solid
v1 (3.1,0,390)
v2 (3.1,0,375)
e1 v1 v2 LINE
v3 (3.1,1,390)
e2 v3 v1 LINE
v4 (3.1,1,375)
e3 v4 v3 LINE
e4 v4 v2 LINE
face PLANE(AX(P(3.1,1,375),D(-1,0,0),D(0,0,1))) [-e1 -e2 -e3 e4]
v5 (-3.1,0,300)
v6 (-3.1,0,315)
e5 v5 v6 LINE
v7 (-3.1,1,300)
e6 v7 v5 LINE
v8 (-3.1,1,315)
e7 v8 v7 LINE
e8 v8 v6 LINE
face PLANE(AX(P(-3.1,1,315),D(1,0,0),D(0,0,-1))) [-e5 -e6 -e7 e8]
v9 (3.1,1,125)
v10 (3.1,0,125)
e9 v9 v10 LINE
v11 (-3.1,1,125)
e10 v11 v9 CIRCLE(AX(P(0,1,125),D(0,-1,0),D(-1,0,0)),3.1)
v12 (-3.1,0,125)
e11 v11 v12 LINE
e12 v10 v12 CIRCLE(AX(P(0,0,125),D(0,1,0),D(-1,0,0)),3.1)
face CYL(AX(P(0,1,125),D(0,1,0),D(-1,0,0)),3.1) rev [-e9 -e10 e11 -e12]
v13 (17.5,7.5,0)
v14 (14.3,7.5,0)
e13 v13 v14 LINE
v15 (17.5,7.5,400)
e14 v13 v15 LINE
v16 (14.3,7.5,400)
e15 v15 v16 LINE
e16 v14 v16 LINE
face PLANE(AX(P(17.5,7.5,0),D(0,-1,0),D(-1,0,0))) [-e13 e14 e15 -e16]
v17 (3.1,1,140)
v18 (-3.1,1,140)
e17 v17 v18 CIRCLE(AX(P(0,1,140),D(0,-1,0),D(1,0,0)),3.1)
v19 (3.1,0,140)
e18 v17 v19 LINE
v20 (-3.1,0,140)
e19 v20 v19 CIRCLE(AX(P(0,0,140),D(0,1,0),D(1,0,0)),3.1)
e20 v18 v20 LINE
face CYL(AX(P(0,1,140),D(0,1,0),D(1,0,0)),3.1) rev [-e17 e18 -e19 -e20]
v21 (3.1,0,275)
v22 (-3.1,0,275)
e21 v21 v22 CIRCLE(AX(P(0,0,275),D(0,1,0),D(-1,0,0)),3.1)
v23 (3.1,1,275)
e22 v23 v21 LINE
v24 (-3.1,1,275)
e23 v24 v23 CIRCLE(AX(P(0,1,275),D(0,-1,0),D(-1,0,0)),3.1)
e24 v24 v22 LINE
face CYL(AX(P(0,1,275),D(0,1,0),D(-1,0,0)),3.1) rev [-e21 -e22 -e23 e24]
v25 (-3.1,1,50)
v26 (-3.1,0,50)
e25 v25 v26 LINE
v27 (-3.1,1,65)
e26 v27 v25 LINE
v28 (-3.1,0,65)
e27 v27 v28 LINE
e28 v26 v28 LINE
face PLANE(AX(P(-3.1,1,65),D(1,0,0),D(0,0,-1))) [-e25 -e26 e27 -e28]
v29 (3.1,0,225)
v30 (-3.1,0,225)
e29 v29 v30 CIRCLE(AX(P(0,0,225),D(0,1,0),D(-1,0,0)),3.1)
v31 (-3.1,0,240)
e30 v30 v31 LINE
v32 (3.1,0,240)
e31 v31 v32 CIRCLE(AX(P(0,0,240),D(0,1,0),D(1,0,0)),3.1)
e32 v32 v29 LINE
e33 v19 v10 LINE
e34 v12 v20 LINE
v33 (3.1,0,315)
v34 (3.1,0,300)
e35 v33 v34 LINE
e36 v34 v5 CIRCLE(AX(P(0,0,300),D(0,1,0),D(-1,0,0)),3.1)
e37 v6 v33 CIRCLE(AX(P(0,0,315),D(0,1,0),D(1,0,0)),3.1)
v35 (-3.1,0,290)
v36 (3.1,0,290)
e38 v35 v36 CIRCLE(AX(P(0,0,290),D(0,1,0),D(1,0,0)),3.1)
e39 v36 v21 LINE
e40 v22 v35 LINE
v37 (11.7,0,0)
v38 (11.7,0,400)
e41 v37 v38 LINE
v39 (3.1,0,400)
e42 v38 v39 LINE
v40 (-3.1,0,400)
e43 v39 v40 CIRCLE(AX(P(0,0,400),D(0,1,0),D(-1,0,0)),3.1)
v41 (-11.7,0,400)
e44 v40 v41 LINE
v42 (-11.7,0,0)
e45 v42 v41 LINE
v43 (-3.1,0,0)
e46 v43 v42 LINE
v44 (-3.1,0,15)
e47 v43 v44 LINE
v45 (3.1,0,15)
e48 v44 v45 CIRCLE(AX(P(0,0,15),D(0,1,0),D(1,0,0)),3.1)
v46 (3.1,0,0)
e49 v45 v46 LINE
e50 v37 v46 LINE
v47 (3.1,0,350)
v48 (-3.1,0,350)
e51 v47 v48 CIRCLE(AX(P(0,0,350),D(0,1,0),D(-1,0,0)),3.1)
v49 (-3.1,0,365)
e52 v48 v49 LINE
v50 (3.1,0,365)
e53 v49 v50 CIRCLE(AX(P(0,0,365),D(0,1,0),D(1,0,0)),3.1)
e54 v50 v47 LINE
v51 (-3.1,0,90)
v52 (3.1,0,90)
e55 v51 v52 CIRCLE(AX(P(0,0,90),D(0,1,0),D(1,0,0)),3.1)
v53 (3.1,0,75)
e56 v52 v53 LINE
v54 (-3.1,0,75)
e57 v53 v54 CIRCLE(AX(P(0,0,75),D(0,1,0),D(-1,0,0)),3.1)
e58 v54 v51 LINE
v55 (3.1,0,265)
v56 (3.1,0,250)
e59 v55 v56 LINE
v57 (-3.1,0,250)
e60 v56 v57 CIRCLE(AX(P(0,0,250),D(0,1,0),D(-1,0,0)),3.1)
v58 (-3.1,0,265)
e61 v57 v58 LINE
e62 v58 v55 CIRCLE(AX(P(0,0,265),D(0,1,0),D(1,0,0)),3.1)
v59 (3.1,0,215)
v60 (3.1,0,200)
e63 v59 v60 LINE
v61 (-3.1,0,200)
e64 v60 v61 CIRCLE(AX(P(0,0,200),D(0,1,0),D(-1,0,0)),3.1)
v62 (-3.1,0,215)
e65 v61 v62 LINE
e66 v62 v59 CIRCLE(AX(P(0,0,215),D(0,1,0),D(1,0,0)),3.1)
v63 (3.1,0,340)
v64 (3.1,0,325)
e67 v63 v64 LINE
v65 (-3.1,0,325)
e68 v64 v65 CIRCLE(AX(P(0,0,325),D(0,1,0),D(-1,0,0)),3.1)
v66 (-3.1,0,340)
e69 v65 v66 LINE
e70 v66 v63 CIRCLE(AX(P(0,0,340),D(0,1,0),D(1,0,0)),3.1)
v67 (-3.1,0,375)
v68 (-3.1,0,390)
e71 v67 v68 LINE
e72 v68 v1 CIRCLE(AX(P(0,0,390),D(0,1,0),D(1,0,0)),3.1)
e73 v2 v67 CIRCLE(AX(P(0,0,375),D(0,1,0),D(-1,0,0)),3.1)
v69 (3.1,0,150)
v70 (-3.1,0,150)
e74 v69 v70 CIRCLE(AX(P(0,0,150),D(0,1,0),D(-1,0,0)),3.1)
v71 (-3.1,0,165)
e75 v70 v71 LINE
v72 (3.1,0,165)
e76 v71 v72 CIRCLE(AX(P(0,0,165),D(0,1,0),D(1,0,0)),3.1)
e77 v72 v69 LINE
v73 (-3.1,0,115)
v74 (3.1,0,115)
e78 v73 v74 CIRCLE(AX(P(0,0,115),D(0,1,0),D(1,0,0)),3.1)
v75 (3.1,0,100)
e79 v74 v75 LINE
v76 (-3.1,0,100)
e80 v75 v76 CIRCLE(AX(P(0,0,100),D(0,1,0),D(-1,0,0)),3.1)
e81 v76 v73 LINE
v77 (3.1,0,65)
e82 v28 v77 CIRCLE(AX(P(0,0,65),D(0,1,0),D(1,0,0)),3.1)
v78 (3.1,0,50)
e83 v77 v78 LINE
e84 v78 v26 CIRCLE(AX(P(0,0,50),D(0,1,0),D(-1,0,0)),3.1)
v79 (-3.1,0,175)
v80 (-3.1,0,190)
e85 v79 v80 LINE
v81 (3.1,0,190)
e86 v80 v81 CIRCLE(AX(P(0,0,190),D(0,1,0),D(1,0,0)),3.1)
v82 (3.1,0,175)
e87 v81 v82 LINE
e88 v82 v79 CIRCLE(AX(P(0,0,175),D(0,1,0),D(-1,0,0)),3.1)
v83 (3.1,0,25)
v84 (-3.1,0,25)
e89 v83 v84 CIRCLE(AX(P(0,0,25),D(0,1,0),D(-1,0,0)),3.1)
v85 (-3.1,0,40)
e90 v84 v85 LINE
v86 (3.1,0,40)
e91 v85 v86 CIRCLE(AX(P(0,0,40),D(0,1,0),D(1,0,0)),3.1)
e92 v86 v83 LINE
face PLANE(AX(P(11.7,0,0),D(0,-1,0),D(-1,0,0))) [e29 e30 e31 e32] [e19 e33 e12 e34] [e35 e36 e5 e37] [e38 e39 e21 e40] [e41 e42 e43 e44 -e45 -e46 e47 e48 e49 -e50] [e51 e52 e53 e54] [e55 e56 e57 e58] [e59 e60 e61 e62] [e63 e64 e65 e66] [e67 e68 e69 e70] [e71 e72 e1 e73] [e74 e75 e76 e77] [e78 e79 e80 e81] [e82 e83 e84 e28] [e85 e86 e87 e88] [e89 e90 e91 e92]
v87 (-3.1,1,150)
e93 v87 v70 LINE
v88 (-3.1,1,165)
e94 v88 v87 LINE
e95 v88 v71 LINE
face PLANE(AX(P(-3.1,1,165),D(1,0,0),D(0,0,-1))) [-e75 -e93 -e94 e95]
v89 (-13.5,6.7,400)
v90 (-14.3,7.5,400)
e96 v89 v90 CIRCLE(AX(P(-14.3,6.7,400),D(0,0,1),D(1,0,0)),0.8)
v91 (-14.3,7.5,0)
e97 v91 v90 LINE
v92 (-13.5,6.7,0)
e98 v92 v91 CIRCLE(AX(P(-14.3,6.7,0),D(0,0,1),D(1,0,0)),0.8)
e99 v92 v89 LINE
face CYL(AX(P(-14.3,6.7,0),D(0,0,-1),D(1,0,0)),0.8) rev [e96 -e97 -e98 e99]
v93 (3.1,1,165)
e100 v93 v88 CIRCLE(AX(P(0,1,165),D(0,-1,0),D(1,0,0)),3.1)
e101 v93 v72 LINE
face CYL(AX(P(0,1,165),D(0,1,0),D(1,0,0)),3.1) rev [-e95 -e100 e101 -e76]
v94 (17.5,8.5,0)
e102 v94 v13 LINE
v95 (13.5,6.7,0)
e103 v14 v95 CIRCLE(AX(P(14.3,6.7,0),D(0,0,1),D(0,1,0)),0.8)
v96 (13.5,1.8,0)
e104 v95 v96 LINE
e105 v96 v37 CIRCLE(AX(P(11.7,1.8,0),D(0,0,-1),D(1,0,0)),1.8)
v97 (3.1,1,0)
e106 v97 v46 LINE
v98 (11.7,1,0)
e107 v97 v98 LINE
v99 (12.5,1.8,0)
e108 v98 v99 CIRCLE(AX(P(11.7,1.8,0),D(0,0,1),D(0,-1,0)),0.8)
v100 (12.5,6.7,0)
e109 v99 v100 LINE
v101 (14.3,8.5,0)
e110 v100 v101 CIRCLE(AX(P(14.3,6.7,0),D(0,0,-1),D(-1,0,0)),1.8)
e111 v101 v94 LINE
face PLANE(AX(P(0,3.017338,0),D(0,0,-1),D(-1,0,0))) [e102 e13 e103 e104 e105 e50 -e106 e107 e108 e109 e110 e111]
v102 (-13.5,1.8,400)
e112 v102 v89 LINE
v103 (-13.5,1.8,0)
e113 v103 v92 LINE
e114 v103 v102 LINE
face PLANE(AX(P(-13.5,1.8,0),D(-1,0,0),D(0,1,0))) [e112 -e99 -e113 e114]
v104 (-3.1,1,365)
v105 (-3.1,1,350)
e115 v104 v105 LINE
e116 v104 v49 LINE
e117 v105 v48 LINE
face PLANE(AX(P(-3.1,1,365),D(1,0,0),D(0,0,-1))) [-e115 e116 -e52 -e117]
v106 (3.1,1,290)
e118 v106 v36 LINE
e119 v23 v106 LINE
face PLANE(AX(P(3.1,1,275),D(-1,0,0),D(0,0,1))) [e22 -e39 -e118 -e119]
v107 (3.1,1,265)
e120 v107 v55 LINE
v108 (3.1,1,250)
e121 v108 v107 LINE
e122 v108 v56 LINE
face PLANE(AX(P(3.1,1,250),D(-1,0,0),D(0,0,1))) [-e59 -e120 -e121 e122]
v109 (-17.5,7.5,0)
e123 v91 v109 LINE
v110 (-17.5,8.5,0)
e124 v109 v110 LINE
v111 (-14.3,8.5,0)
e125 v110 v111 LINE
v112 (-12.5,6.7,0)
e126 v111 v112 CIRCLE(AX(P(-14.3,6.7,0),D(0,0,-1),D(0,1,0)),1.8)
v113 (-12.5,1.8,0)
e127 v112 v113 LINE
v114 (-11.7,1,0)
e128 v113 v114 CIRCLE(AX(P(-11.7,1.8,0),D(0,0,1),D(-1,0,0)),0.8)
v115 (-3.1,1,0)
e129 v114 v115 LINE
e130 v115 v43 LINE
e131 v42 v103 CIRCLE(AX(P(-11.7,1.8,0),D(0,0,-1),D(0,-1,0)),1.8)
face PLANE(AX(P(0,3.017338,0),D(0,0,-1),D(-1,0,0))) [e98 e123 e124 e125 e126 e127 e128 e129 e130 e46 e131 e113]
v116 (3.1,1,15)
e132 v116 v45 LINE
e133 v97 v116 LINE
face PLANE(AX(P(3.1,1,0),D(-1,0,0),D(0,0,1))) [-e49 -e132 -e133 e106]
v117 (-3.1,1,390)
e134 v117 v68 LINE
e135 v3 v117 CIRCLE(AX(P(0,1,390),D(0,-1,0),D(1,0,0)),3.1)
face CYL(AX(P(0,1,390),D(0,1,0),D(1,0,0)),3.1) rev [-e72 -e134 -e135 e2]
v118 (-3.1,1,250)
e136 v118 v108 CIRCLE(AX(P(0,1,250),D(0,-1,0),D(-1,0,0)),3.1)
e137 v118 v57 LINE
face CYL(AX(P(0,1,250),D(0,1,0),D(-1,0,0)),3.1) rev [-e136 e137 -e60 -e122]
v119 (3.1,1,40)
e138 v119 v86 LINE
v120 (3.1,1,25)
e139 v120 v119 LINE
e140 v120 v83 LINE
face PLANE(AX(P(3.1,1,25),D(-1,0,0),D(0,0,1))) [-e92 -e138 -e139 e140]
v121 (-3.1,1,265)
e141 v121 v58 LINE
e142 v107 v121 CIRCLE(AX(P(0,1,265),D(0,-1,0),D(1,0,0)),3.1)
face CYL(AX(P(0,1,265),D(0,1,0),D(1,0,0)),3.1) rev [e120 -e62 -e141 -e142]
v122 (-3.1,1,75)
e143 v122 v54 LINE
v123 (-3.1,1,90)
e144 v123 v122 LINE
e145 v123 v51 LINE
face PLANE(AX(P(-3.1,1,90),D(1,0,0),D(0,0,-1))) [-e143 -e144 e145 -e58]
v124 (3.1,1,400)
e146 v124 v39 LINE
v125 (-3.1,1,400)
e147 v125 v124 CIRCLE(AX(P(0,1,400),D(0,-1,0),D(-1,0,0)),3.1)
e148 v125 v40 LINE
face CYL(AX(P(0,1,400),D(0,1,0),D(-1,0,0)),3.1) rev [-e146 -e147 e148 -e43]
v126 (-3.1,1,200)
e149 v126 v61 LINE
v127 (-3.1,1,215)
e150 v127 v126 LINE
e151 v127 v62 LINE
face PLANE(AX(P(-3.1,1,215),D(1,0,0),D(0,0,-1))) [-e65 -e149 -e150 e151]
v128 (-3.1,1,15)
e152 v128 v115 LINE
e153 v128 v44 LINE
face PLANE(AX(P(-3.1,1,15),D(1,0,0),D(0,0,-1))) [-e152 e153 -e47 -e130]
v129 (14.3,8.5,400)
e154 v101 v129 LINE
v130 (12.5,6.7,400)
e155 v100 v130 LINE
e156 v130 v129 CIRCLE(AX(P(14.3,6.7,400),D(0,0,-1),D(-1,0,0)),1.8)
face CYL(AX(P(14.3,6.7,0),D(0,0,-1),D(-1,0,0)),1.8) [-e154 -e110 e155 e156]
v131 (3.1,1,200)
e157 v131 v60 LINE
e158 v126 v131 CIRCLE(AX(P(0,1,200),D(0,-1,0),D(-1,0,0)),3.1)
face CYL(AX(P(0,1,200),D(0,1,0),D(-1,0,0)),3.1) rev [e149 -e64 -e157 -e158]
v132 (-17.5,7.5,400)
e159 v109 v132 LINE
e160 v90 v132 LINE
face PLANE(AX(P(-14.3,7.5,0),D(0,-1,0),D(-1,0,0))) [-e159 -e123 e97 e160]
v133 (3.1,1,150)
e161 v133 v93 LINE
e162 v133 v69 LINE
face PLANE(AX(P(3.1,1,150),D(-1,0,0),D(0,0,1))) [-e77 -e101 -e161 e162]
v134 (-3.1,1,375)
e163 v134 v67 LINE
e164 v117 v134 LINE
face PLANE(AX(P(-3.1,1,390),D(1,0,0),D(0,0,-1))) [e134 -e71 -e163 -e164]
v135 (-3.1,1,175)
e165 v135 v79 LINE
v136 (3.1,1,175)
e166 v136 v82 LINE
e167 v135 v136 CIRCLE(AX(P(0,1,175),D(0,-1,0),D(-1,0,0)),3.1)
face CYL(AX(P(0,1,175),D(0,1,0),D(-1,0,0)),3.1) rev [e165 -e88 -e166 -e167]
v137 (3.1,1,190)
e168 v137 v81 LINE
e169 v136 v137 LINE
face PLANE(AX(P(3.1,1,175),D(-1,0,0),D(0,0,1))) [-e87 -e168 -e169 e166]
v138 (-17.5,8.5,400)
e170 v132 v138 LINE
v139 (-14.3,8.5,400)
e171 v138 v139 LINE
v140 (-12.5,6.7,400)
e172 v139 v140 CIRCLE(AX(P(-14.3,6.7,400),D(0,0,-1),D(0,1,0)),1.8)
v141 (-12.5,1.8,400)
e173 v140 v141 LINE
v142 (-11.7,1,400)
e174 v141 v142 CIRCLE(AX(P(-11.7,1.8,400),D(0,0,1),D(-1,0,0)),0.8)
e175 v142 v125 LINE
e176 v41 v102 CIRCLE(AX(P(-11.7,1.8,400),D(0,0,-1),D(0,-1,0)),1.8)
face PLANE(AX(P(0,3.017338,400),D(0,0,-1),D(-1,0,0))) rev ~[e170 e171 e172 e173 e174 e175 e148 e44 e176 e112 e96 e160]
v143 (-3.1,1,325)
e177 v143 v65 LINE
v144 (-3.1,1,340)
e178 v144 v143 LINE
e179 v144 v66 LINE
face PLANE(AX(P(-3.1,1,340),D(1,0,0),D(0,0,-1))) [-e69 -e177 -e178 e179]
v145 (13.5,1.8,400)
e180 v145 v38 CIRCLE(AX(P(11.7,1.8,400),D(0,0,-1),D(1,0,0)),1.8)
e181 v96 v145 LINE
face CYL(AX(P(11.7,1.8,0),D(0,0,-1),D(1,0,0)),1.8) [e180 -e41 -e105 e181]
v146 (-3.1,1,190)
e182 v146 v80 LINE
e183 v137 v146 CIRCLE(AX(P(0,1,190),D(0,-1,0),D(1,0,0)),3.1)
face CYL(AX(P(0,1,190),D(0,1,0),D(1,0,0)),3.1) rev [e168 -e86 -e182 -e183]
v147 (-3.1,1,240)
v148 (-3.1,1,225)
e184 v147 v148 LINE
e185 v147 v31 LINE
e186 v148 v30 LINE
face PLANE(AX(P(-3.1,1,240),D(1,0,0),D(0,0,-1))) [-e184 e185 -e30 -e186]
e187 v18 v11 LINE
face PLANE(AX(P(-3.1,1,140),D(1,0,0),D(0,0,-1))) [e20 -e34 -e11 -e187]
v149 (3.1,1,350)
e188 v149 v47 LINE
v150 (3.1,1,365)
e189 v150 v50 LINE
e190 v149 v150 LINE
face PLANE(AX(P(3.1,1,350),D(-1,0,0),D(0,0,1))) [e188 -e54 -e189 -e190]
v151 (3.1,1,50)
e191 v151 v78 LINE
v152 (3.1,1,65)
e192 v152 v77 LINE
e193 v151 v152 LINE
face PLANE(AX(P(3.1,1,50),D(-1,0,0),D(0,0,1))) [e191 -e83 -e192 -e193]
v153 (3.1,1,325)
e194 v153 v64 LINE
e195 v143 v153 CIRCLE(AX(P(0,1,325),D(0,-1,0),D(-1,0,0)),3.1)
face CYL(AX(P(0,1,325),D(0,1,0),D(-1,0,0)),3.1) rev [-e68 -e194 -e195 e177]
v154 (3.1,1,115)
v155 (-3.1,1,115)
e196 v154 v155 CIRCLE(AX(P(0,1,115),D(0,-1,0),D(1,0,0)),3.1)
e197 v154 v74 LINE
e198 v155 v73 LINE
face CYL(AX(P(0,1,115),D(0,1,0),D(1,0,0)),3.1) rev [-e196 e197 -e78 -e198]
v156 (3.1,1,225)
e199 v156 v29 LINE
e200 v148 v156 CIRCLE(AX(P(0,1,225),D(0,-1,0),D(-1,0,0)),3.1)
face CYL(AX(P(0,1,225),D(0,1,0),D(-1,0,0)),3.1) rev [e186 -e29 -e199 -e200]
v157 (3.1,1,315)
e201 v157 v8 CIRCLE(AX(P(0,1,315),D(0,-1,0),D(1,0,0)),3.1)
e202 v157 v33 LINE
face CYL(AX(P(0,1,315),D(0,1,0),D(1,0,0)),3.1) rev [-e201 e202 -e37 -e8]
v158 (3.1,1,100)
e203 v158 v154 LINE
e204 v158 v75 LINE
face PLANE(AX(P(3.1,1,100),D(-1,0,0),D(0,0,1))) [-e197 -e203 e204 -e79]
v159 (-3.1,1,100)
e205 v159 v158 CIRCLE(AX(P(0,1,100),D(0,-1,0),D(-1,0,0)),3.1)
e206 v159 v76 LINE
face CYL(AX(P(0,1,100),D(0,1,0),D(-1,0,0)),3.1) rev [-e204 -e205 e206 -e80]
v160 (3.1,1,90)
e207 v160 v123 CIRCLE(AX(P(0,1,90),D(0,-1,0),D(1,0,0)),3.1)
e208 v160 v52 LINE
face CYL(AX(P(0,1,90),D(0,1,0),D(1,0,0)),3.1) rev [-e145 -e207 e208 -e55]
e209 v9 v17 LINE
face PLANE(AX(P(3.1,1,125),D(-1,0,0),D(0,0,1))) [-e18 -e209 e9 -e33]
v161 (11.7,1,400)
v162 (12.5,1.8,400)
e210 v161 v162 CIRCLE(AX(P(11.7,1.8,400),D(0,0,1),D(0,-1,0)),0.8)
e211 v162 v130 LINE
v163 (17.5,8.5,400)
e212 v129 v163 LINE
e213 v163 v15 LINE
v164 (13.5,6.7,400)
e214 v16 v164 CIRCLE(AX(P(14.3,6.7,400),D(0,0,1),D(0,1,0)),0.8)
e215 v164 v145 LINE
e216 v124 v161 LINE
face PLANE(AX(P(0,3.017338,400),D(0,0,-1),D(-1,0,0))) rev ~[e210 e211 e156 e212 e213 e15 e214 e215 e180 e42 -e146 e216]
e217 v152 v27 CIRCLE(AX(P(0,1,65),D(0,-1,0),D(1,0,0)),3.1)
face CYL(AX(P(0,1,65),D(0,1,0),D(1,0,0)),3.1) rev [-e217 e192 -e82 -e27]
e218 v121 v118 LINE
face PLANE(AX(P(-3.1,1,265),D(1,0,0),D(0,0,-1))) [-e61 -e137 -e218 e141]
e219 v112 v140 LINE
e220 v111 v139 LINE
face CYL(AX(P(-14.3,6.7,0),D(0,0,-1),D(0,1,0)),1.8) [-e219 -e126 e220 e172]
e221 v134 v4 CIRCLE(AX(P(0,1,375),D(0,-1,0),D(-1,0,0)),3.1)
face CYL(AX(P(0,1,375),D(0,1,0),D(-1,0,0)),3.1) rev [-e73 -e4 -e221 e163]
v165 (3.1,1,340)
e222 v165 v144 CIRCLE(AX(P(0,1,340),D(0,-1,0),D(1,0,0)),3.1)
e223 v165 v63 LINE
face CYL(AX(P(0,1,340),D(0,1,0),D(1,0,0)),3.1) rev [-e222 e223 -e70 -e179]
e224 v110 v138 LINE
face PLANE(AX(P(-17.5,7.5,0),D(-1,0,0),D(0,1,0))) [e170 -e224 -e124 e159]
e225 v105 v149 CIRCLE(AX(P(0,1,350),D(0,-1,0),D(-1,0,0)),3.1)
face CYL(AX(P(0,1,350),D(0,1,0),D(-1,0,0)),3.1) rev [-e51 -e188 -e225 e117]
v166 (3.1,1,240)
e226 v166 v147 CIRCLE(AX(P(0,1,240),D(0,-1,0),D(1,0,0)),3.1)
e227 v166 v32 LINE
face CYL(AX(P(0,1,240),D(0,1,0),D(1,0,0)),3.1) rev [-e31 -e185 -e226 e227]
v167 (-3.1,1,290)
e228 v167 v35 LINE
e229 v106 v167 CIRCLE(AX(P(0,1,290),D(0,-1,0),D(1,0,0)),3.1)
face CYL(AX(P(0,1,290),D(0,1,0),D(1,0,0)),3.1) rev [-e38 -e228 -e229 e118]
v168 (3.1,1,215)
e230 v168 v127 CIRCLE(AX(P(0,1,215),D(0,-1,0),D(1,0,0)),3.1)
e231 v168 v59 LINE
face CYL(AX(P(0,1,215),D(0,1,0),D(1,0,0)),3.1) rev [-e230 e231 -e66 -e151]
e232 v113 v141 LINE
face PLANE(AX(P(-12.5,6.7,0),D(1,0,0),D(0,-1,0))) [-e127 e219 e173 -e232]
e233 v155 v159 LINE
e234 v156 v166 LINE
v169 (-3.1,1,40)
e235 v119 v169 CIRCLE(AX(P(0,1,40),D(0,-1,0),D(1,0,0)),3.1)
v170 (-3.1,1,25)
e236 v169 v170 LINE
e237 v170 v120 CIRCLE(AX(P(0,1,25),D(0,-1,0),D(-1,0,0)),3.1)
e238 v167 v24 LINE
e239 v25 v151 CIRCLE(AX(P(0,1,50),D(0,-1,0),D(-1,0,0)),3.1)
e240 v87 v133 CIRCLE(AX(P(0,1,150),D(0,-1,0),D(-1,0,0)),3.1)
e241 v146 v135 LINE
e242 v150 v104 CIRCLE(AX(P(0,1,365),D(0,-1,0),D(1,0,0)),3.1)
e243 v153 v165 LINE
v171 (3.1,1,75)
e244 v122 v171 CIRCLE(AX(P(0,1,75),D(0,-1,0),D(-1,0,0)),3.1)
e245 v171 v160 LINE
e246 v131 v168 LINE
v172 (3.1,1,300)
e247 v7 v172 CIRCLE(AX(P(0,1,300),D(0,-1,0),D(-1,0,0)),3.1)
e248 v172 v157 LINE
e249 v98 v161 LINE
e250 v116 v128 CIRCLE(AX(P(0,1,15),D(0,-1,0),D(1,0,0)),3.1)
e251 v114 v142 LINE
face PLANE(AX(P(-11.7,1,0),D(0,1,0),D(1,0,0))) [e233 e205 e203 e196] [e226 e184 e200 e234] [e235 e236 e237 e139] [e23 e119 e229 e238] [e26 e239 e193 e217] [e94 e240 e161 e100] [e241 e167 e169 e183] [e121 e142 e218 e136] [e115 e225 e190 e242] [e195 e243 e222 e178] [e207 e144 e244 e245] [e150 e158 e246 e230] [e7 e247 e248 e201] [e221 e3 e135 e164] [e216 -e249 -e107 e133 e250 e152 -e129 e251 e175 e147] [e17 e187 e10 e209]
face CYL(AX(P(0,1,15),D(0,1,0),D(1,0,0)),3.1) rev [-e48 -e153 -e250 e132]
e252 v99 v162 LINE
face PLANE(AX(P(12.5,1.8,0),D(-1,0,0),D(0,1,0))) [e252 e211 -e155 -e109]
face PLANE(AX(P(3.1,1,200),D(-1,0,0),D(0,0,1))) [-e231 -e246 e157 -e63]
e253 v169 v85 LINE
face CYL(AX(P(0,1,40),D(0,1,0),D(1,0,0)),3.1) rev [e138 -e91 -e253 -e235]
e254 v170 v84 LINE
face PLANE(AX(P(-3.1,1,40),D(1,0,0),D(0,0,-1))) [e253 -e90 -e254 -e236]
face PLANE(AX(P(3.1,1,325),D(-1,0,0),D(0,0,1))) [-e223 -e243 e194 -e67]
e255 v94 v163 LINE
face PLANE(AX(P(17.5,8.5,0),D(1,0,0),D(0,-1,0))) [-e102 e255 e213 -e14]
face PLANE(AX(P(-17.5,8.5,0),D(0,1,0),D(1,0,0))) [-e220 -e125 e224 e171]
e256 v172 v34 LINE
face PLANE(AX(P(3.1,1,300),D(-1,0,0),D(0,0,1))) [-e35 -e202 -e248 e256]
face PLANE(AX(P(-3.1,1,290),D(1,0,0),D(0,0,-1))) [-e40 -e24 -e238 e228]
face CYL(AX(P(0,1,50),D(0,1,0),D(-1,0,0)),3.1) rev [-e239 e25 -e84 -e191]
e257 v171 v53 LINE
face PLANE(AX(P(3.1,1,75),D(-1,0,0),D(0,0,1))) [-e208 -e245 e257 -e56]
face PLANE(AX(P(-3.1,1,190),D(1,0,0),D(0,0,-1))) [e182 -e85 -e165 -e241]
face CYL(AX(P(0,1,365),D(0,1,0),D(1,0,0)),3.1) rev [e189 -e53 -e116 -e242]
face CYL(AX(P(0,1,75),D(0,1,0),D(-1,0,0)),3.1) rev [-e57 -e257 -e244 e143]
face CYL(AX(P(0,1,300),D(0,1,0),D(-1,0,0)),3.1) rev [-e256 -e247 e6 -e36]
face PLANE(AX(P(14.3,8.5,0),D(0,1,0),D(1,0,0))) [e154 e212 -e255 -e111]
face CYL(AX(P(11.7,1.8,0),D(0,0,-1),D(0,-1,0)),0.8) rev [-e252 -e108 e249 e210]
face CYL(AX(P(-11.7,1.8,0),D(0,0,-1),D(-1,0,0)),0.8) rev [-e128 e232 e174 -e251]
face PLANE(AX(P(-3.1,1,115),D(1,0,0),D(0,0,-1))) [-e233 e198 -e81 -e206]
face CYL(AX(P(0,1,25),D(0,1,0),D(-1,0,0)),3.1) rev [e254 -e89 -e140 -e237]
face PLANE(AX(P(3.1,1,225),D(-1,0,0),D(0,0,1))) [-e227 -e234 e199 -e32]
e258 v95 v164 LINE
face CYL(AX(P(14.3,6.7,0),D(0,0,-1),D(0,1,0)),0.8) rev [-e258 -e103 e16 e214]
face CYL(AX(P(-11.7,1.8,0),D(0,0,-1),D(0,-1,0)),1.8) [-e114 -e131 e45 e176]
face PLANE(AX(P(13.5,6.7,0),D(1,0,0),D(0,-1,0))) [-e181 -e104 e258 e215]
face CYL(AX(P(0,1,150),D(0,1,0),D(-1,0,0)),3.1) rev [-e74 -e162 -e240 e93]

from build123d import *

# Parameters (mm, degrees)
BOSS_EXTRUDE2_DEPTH = 400
CUT_EXTRUDE1_DEPTH  = 100


with BuildPart() as part:
    # Sketch1 → Boss-Extrude2 (new body)
    with BuildSketch(Plane.XY):
        with BuildLine():
            Line((0, 0), (-11.7, 0))
            ThreePointArc((-11.7, 0), (-12.972792206, 0.527207794), (-13.5, 1.8))
            Line((-13.5, 1.8), (-13.5, 6.7))
            ThreePointArc((-13.5, 6.7), (-13.734314575, 7.265685425), (-14.3, 7.5))
            Line((-14.3, 7.5), (-17.5, 7.5))
            Line((-17.5, 7.5), (-17.5, 8.5))
            Line((-17.5, 8.5), (-14.3, 8.5))
            ThreePointArc((-14.3, 8.5), (-13.027207794, 7.972792206), (-12.5, 6.7))
            Line((-12.5, 6.7), (-12.5, 1.8))
            ThreePointArc((-12.5, 1.8), (-12.265685425, 1.234314575), (-11.7, 1))
            Line((-11.7, 1), (0, 1))
            Line((0, 1), (11.7, 1))
            ThreePointArc((11.7, 1), (12.265685425, 1.234314575), (12.5, 1.8))
            Line((12.5, 1.8), (12.5, 6.7))
            ThreePointArc((12.5, 6.7), (13.027207794, 7.972792206), (14.3, 8.5))
            Line((14.3, 8.5), (17.5, 8.5))
            Line((17.5, 8.5), (17.5, 7.5))
            Line((17.5, 7.5), (14.3, 7.5))
            ThreePointArc((14.3, 7.5), (13.734314575, 7.265685425), (13.5, 6.7))
            Line((13.5, 6.7), (13.5, 1.8))
            ThreePointArc((13.5, 1.8), (12.972792206, 0.527207794), (11.7, 0))
            Line((11.7, 0), (0, 0))
        make_face()
    extrude(amount=BOSS_EXTRUDE2_DEPTH)

    # Sketch2 → Cut-Extrude1 (cut)
    with BuildSketch(Plane(origin=(0, 1, 0), x_dir=(1, 0, 0), z_dir=(0, 1, 0))):
        with BuildLine():
            Line((-3.1, -390), (-3.1, -375))
            ThreePointArc((-3.1, -375), (0, -371.9), (3.1, -375))
            Line((3.1, -375), (3.1, -390))
            ThreePointArc((3.1, -390), (0, -393.1), (-3.1, -390))
        make_face()
        with BuildLine():
            Line((-3.1, -365), (-3.1, -350))
            ThreePointArc((-3.1, -350), (0, -346.9), (3.1, -350))
            Line((3.1, -350), (3.1, -365))
            ThreePointArc((3.1, -365), (0, -368.1), (-3.1, -365))
        make_face()
        with BuildLine():
            Line((-3.1, -340), (-3.1, -325))
            ThreePointArc((-3.1, -325), (0, -321.9), (3.1, -325))
            Line((3.1, -325), (3.1, -340))
            ThreePointArc((3.1, -340), (0, -343.1), (-3.1, -340))
        make_face()
        with BuildLine():
            Line((-3.1, -315), (-3.1, -300))
            ThreePointArc((-3.1, -300), (0, -296.9), (3.1, -300))
            Line((3.1, -300), (3.1, -315))
            ThreePointArc((3.1, -315), (0, -318.1), (-3.1, -315))
        make_face()
        with BuildLine():
            Line((-3.1, -415), (-3.1, -400))
            ThreePointArc((-3.1, -400), (0, -396.9), (3.1, -400))
            Line((3.1, -400), (3.1, -415))
            ThreePointArc((3.1, -415), (0, -418.1), (-3.1, -415))
        make_face()
        with BuildLine():
            Line((-3.1, -290), (-3.1, -275))
            ThreePointArc((-3.1, -275), (0, -271.9), (3.1, -275))
            Line((3.1, -275), (3.1, -290))
            ThreePointArc((3.1, -290), (0, -293.1), (-3.1, -290))
        make_face()
        with BuildLine():
            Line((-3.1, -265), (-3.1, -250))
            ThreePointArc((-3.1, -250), (0, -246.9), (3.1, -250))
            Line((3.1, -250), (3.1, -265))
            ThreePointArc((3.1, -265), (0, -268.1), (-3.1, -265))
        make_face()
        with BuildLine():
            Line((-3.1, -240), (-3.1, -225))
            ThreePointArc((-3.1, -225), (0, -221.9), (3.1, -225))
            Line((3.1, -225), (3.1, -240))
            ThreePointArc((3.1, -240), (0, -243.1), (-3.1, -240))
        make_face()
        with BuildLine():
            Line((-3.1, -215), (-3.1, -200))
            ThreePointArc((-3.1, -200), (0, -196.9), (3.1, -200))
            Line((3.1, -200), (3.1, -215))
            ThreePointArc((3.1, -215), (0, -218.1), (-3.1, -215))
        make_face()
        with BuildLine():
            Line((-3.1, -190), (-3.1, -175))
            ThreePointArc((-3.1, -175), (0, -171.9), (3.1, -175))
            Line((3.1, -175), (3.1, -190))
            ThreePointArc((3.1, -190), (0, -193.1), (-3.1, -190))
        make_face()
        with BuildLine():
            Line((-3.1, -165), (-3.1, -150))
            ThreePointArc((-3.1, -150), (0, -146.9), (3.1, -150))
            Line((3.1, -150), (3.1, -165))
            ThreePointArc((3.1, -165), (0, -168.1), (-3.1, -165))
        make_face()
        with BuildLine():
            Line((-3.1, -140), (-3.1, -125))
            ThreePointArc((-3.1, -125), (0, -121.9), (3.1, -125))
            Line((3.1, -125), (3.1, -140))
            ThreePointArc((3.1, -140), (0, -143.1), (-3.1, -140))
        make_face()
        with BuildLine():
            Line((-3.1, -115), (-3.1, -100))
            ThreePointArc((-3.1, -100), (0, -96.9), (3.1, -100))
            Line((3.1, -100), (3.1, -115))
            ThreePointArc((3.1, -115), (0, -118.1), (-3.1, -115))
        make_face()
        with BuildLine():
            Line((-3.1, -90), (-3.1, -75))
            ThreePointArc((-3.1, -75), (0, -71.9), (3.1, -75))
            Line((3.1, -75), (3.1, -90))
            ThreePointArc((3.1, -90), (0, -93.1), (-3.1, -90))
        make_face()
        with BuildLine():
            Line((-3.1, -65), (-3.1, -50))
            ThreePointArc((-3.1, -50), (0, -46.9), (3.1, -50))
            Line((3.1, -50), (3.1, -65))
            ThreePointArc((3.1, -65), (0, -68.1), (-3.1, -65))
        make_face()
        with BuildLine():
            Line((-3.1, -40), (-3.1, -25))
            ThreePointArc((-3.1, -25), (0, -21.9), (3.1, -25))
            Line((3.1, -25), (3.1, -40))
            ThreePointArc((3.1, -40), (0, -43.1), (-3.1, -40))
        make_face()
        with BuildLine():
            Line((-3.1, -15), (-3.1, 0))
            ThreePointArc((-3.1, 0), (0, 3.1), (3.1, 0))
            Line((3.1, 0), (3.1, -15))
            ThreePointArc((3.1, -15), (0, -18.1), (-3.1, -15))
        make_face()
    extrude(amount=-CUT_EXTRUDE1_DEPTH, mode=Mode.SUBTRACT)


solid = part.part
